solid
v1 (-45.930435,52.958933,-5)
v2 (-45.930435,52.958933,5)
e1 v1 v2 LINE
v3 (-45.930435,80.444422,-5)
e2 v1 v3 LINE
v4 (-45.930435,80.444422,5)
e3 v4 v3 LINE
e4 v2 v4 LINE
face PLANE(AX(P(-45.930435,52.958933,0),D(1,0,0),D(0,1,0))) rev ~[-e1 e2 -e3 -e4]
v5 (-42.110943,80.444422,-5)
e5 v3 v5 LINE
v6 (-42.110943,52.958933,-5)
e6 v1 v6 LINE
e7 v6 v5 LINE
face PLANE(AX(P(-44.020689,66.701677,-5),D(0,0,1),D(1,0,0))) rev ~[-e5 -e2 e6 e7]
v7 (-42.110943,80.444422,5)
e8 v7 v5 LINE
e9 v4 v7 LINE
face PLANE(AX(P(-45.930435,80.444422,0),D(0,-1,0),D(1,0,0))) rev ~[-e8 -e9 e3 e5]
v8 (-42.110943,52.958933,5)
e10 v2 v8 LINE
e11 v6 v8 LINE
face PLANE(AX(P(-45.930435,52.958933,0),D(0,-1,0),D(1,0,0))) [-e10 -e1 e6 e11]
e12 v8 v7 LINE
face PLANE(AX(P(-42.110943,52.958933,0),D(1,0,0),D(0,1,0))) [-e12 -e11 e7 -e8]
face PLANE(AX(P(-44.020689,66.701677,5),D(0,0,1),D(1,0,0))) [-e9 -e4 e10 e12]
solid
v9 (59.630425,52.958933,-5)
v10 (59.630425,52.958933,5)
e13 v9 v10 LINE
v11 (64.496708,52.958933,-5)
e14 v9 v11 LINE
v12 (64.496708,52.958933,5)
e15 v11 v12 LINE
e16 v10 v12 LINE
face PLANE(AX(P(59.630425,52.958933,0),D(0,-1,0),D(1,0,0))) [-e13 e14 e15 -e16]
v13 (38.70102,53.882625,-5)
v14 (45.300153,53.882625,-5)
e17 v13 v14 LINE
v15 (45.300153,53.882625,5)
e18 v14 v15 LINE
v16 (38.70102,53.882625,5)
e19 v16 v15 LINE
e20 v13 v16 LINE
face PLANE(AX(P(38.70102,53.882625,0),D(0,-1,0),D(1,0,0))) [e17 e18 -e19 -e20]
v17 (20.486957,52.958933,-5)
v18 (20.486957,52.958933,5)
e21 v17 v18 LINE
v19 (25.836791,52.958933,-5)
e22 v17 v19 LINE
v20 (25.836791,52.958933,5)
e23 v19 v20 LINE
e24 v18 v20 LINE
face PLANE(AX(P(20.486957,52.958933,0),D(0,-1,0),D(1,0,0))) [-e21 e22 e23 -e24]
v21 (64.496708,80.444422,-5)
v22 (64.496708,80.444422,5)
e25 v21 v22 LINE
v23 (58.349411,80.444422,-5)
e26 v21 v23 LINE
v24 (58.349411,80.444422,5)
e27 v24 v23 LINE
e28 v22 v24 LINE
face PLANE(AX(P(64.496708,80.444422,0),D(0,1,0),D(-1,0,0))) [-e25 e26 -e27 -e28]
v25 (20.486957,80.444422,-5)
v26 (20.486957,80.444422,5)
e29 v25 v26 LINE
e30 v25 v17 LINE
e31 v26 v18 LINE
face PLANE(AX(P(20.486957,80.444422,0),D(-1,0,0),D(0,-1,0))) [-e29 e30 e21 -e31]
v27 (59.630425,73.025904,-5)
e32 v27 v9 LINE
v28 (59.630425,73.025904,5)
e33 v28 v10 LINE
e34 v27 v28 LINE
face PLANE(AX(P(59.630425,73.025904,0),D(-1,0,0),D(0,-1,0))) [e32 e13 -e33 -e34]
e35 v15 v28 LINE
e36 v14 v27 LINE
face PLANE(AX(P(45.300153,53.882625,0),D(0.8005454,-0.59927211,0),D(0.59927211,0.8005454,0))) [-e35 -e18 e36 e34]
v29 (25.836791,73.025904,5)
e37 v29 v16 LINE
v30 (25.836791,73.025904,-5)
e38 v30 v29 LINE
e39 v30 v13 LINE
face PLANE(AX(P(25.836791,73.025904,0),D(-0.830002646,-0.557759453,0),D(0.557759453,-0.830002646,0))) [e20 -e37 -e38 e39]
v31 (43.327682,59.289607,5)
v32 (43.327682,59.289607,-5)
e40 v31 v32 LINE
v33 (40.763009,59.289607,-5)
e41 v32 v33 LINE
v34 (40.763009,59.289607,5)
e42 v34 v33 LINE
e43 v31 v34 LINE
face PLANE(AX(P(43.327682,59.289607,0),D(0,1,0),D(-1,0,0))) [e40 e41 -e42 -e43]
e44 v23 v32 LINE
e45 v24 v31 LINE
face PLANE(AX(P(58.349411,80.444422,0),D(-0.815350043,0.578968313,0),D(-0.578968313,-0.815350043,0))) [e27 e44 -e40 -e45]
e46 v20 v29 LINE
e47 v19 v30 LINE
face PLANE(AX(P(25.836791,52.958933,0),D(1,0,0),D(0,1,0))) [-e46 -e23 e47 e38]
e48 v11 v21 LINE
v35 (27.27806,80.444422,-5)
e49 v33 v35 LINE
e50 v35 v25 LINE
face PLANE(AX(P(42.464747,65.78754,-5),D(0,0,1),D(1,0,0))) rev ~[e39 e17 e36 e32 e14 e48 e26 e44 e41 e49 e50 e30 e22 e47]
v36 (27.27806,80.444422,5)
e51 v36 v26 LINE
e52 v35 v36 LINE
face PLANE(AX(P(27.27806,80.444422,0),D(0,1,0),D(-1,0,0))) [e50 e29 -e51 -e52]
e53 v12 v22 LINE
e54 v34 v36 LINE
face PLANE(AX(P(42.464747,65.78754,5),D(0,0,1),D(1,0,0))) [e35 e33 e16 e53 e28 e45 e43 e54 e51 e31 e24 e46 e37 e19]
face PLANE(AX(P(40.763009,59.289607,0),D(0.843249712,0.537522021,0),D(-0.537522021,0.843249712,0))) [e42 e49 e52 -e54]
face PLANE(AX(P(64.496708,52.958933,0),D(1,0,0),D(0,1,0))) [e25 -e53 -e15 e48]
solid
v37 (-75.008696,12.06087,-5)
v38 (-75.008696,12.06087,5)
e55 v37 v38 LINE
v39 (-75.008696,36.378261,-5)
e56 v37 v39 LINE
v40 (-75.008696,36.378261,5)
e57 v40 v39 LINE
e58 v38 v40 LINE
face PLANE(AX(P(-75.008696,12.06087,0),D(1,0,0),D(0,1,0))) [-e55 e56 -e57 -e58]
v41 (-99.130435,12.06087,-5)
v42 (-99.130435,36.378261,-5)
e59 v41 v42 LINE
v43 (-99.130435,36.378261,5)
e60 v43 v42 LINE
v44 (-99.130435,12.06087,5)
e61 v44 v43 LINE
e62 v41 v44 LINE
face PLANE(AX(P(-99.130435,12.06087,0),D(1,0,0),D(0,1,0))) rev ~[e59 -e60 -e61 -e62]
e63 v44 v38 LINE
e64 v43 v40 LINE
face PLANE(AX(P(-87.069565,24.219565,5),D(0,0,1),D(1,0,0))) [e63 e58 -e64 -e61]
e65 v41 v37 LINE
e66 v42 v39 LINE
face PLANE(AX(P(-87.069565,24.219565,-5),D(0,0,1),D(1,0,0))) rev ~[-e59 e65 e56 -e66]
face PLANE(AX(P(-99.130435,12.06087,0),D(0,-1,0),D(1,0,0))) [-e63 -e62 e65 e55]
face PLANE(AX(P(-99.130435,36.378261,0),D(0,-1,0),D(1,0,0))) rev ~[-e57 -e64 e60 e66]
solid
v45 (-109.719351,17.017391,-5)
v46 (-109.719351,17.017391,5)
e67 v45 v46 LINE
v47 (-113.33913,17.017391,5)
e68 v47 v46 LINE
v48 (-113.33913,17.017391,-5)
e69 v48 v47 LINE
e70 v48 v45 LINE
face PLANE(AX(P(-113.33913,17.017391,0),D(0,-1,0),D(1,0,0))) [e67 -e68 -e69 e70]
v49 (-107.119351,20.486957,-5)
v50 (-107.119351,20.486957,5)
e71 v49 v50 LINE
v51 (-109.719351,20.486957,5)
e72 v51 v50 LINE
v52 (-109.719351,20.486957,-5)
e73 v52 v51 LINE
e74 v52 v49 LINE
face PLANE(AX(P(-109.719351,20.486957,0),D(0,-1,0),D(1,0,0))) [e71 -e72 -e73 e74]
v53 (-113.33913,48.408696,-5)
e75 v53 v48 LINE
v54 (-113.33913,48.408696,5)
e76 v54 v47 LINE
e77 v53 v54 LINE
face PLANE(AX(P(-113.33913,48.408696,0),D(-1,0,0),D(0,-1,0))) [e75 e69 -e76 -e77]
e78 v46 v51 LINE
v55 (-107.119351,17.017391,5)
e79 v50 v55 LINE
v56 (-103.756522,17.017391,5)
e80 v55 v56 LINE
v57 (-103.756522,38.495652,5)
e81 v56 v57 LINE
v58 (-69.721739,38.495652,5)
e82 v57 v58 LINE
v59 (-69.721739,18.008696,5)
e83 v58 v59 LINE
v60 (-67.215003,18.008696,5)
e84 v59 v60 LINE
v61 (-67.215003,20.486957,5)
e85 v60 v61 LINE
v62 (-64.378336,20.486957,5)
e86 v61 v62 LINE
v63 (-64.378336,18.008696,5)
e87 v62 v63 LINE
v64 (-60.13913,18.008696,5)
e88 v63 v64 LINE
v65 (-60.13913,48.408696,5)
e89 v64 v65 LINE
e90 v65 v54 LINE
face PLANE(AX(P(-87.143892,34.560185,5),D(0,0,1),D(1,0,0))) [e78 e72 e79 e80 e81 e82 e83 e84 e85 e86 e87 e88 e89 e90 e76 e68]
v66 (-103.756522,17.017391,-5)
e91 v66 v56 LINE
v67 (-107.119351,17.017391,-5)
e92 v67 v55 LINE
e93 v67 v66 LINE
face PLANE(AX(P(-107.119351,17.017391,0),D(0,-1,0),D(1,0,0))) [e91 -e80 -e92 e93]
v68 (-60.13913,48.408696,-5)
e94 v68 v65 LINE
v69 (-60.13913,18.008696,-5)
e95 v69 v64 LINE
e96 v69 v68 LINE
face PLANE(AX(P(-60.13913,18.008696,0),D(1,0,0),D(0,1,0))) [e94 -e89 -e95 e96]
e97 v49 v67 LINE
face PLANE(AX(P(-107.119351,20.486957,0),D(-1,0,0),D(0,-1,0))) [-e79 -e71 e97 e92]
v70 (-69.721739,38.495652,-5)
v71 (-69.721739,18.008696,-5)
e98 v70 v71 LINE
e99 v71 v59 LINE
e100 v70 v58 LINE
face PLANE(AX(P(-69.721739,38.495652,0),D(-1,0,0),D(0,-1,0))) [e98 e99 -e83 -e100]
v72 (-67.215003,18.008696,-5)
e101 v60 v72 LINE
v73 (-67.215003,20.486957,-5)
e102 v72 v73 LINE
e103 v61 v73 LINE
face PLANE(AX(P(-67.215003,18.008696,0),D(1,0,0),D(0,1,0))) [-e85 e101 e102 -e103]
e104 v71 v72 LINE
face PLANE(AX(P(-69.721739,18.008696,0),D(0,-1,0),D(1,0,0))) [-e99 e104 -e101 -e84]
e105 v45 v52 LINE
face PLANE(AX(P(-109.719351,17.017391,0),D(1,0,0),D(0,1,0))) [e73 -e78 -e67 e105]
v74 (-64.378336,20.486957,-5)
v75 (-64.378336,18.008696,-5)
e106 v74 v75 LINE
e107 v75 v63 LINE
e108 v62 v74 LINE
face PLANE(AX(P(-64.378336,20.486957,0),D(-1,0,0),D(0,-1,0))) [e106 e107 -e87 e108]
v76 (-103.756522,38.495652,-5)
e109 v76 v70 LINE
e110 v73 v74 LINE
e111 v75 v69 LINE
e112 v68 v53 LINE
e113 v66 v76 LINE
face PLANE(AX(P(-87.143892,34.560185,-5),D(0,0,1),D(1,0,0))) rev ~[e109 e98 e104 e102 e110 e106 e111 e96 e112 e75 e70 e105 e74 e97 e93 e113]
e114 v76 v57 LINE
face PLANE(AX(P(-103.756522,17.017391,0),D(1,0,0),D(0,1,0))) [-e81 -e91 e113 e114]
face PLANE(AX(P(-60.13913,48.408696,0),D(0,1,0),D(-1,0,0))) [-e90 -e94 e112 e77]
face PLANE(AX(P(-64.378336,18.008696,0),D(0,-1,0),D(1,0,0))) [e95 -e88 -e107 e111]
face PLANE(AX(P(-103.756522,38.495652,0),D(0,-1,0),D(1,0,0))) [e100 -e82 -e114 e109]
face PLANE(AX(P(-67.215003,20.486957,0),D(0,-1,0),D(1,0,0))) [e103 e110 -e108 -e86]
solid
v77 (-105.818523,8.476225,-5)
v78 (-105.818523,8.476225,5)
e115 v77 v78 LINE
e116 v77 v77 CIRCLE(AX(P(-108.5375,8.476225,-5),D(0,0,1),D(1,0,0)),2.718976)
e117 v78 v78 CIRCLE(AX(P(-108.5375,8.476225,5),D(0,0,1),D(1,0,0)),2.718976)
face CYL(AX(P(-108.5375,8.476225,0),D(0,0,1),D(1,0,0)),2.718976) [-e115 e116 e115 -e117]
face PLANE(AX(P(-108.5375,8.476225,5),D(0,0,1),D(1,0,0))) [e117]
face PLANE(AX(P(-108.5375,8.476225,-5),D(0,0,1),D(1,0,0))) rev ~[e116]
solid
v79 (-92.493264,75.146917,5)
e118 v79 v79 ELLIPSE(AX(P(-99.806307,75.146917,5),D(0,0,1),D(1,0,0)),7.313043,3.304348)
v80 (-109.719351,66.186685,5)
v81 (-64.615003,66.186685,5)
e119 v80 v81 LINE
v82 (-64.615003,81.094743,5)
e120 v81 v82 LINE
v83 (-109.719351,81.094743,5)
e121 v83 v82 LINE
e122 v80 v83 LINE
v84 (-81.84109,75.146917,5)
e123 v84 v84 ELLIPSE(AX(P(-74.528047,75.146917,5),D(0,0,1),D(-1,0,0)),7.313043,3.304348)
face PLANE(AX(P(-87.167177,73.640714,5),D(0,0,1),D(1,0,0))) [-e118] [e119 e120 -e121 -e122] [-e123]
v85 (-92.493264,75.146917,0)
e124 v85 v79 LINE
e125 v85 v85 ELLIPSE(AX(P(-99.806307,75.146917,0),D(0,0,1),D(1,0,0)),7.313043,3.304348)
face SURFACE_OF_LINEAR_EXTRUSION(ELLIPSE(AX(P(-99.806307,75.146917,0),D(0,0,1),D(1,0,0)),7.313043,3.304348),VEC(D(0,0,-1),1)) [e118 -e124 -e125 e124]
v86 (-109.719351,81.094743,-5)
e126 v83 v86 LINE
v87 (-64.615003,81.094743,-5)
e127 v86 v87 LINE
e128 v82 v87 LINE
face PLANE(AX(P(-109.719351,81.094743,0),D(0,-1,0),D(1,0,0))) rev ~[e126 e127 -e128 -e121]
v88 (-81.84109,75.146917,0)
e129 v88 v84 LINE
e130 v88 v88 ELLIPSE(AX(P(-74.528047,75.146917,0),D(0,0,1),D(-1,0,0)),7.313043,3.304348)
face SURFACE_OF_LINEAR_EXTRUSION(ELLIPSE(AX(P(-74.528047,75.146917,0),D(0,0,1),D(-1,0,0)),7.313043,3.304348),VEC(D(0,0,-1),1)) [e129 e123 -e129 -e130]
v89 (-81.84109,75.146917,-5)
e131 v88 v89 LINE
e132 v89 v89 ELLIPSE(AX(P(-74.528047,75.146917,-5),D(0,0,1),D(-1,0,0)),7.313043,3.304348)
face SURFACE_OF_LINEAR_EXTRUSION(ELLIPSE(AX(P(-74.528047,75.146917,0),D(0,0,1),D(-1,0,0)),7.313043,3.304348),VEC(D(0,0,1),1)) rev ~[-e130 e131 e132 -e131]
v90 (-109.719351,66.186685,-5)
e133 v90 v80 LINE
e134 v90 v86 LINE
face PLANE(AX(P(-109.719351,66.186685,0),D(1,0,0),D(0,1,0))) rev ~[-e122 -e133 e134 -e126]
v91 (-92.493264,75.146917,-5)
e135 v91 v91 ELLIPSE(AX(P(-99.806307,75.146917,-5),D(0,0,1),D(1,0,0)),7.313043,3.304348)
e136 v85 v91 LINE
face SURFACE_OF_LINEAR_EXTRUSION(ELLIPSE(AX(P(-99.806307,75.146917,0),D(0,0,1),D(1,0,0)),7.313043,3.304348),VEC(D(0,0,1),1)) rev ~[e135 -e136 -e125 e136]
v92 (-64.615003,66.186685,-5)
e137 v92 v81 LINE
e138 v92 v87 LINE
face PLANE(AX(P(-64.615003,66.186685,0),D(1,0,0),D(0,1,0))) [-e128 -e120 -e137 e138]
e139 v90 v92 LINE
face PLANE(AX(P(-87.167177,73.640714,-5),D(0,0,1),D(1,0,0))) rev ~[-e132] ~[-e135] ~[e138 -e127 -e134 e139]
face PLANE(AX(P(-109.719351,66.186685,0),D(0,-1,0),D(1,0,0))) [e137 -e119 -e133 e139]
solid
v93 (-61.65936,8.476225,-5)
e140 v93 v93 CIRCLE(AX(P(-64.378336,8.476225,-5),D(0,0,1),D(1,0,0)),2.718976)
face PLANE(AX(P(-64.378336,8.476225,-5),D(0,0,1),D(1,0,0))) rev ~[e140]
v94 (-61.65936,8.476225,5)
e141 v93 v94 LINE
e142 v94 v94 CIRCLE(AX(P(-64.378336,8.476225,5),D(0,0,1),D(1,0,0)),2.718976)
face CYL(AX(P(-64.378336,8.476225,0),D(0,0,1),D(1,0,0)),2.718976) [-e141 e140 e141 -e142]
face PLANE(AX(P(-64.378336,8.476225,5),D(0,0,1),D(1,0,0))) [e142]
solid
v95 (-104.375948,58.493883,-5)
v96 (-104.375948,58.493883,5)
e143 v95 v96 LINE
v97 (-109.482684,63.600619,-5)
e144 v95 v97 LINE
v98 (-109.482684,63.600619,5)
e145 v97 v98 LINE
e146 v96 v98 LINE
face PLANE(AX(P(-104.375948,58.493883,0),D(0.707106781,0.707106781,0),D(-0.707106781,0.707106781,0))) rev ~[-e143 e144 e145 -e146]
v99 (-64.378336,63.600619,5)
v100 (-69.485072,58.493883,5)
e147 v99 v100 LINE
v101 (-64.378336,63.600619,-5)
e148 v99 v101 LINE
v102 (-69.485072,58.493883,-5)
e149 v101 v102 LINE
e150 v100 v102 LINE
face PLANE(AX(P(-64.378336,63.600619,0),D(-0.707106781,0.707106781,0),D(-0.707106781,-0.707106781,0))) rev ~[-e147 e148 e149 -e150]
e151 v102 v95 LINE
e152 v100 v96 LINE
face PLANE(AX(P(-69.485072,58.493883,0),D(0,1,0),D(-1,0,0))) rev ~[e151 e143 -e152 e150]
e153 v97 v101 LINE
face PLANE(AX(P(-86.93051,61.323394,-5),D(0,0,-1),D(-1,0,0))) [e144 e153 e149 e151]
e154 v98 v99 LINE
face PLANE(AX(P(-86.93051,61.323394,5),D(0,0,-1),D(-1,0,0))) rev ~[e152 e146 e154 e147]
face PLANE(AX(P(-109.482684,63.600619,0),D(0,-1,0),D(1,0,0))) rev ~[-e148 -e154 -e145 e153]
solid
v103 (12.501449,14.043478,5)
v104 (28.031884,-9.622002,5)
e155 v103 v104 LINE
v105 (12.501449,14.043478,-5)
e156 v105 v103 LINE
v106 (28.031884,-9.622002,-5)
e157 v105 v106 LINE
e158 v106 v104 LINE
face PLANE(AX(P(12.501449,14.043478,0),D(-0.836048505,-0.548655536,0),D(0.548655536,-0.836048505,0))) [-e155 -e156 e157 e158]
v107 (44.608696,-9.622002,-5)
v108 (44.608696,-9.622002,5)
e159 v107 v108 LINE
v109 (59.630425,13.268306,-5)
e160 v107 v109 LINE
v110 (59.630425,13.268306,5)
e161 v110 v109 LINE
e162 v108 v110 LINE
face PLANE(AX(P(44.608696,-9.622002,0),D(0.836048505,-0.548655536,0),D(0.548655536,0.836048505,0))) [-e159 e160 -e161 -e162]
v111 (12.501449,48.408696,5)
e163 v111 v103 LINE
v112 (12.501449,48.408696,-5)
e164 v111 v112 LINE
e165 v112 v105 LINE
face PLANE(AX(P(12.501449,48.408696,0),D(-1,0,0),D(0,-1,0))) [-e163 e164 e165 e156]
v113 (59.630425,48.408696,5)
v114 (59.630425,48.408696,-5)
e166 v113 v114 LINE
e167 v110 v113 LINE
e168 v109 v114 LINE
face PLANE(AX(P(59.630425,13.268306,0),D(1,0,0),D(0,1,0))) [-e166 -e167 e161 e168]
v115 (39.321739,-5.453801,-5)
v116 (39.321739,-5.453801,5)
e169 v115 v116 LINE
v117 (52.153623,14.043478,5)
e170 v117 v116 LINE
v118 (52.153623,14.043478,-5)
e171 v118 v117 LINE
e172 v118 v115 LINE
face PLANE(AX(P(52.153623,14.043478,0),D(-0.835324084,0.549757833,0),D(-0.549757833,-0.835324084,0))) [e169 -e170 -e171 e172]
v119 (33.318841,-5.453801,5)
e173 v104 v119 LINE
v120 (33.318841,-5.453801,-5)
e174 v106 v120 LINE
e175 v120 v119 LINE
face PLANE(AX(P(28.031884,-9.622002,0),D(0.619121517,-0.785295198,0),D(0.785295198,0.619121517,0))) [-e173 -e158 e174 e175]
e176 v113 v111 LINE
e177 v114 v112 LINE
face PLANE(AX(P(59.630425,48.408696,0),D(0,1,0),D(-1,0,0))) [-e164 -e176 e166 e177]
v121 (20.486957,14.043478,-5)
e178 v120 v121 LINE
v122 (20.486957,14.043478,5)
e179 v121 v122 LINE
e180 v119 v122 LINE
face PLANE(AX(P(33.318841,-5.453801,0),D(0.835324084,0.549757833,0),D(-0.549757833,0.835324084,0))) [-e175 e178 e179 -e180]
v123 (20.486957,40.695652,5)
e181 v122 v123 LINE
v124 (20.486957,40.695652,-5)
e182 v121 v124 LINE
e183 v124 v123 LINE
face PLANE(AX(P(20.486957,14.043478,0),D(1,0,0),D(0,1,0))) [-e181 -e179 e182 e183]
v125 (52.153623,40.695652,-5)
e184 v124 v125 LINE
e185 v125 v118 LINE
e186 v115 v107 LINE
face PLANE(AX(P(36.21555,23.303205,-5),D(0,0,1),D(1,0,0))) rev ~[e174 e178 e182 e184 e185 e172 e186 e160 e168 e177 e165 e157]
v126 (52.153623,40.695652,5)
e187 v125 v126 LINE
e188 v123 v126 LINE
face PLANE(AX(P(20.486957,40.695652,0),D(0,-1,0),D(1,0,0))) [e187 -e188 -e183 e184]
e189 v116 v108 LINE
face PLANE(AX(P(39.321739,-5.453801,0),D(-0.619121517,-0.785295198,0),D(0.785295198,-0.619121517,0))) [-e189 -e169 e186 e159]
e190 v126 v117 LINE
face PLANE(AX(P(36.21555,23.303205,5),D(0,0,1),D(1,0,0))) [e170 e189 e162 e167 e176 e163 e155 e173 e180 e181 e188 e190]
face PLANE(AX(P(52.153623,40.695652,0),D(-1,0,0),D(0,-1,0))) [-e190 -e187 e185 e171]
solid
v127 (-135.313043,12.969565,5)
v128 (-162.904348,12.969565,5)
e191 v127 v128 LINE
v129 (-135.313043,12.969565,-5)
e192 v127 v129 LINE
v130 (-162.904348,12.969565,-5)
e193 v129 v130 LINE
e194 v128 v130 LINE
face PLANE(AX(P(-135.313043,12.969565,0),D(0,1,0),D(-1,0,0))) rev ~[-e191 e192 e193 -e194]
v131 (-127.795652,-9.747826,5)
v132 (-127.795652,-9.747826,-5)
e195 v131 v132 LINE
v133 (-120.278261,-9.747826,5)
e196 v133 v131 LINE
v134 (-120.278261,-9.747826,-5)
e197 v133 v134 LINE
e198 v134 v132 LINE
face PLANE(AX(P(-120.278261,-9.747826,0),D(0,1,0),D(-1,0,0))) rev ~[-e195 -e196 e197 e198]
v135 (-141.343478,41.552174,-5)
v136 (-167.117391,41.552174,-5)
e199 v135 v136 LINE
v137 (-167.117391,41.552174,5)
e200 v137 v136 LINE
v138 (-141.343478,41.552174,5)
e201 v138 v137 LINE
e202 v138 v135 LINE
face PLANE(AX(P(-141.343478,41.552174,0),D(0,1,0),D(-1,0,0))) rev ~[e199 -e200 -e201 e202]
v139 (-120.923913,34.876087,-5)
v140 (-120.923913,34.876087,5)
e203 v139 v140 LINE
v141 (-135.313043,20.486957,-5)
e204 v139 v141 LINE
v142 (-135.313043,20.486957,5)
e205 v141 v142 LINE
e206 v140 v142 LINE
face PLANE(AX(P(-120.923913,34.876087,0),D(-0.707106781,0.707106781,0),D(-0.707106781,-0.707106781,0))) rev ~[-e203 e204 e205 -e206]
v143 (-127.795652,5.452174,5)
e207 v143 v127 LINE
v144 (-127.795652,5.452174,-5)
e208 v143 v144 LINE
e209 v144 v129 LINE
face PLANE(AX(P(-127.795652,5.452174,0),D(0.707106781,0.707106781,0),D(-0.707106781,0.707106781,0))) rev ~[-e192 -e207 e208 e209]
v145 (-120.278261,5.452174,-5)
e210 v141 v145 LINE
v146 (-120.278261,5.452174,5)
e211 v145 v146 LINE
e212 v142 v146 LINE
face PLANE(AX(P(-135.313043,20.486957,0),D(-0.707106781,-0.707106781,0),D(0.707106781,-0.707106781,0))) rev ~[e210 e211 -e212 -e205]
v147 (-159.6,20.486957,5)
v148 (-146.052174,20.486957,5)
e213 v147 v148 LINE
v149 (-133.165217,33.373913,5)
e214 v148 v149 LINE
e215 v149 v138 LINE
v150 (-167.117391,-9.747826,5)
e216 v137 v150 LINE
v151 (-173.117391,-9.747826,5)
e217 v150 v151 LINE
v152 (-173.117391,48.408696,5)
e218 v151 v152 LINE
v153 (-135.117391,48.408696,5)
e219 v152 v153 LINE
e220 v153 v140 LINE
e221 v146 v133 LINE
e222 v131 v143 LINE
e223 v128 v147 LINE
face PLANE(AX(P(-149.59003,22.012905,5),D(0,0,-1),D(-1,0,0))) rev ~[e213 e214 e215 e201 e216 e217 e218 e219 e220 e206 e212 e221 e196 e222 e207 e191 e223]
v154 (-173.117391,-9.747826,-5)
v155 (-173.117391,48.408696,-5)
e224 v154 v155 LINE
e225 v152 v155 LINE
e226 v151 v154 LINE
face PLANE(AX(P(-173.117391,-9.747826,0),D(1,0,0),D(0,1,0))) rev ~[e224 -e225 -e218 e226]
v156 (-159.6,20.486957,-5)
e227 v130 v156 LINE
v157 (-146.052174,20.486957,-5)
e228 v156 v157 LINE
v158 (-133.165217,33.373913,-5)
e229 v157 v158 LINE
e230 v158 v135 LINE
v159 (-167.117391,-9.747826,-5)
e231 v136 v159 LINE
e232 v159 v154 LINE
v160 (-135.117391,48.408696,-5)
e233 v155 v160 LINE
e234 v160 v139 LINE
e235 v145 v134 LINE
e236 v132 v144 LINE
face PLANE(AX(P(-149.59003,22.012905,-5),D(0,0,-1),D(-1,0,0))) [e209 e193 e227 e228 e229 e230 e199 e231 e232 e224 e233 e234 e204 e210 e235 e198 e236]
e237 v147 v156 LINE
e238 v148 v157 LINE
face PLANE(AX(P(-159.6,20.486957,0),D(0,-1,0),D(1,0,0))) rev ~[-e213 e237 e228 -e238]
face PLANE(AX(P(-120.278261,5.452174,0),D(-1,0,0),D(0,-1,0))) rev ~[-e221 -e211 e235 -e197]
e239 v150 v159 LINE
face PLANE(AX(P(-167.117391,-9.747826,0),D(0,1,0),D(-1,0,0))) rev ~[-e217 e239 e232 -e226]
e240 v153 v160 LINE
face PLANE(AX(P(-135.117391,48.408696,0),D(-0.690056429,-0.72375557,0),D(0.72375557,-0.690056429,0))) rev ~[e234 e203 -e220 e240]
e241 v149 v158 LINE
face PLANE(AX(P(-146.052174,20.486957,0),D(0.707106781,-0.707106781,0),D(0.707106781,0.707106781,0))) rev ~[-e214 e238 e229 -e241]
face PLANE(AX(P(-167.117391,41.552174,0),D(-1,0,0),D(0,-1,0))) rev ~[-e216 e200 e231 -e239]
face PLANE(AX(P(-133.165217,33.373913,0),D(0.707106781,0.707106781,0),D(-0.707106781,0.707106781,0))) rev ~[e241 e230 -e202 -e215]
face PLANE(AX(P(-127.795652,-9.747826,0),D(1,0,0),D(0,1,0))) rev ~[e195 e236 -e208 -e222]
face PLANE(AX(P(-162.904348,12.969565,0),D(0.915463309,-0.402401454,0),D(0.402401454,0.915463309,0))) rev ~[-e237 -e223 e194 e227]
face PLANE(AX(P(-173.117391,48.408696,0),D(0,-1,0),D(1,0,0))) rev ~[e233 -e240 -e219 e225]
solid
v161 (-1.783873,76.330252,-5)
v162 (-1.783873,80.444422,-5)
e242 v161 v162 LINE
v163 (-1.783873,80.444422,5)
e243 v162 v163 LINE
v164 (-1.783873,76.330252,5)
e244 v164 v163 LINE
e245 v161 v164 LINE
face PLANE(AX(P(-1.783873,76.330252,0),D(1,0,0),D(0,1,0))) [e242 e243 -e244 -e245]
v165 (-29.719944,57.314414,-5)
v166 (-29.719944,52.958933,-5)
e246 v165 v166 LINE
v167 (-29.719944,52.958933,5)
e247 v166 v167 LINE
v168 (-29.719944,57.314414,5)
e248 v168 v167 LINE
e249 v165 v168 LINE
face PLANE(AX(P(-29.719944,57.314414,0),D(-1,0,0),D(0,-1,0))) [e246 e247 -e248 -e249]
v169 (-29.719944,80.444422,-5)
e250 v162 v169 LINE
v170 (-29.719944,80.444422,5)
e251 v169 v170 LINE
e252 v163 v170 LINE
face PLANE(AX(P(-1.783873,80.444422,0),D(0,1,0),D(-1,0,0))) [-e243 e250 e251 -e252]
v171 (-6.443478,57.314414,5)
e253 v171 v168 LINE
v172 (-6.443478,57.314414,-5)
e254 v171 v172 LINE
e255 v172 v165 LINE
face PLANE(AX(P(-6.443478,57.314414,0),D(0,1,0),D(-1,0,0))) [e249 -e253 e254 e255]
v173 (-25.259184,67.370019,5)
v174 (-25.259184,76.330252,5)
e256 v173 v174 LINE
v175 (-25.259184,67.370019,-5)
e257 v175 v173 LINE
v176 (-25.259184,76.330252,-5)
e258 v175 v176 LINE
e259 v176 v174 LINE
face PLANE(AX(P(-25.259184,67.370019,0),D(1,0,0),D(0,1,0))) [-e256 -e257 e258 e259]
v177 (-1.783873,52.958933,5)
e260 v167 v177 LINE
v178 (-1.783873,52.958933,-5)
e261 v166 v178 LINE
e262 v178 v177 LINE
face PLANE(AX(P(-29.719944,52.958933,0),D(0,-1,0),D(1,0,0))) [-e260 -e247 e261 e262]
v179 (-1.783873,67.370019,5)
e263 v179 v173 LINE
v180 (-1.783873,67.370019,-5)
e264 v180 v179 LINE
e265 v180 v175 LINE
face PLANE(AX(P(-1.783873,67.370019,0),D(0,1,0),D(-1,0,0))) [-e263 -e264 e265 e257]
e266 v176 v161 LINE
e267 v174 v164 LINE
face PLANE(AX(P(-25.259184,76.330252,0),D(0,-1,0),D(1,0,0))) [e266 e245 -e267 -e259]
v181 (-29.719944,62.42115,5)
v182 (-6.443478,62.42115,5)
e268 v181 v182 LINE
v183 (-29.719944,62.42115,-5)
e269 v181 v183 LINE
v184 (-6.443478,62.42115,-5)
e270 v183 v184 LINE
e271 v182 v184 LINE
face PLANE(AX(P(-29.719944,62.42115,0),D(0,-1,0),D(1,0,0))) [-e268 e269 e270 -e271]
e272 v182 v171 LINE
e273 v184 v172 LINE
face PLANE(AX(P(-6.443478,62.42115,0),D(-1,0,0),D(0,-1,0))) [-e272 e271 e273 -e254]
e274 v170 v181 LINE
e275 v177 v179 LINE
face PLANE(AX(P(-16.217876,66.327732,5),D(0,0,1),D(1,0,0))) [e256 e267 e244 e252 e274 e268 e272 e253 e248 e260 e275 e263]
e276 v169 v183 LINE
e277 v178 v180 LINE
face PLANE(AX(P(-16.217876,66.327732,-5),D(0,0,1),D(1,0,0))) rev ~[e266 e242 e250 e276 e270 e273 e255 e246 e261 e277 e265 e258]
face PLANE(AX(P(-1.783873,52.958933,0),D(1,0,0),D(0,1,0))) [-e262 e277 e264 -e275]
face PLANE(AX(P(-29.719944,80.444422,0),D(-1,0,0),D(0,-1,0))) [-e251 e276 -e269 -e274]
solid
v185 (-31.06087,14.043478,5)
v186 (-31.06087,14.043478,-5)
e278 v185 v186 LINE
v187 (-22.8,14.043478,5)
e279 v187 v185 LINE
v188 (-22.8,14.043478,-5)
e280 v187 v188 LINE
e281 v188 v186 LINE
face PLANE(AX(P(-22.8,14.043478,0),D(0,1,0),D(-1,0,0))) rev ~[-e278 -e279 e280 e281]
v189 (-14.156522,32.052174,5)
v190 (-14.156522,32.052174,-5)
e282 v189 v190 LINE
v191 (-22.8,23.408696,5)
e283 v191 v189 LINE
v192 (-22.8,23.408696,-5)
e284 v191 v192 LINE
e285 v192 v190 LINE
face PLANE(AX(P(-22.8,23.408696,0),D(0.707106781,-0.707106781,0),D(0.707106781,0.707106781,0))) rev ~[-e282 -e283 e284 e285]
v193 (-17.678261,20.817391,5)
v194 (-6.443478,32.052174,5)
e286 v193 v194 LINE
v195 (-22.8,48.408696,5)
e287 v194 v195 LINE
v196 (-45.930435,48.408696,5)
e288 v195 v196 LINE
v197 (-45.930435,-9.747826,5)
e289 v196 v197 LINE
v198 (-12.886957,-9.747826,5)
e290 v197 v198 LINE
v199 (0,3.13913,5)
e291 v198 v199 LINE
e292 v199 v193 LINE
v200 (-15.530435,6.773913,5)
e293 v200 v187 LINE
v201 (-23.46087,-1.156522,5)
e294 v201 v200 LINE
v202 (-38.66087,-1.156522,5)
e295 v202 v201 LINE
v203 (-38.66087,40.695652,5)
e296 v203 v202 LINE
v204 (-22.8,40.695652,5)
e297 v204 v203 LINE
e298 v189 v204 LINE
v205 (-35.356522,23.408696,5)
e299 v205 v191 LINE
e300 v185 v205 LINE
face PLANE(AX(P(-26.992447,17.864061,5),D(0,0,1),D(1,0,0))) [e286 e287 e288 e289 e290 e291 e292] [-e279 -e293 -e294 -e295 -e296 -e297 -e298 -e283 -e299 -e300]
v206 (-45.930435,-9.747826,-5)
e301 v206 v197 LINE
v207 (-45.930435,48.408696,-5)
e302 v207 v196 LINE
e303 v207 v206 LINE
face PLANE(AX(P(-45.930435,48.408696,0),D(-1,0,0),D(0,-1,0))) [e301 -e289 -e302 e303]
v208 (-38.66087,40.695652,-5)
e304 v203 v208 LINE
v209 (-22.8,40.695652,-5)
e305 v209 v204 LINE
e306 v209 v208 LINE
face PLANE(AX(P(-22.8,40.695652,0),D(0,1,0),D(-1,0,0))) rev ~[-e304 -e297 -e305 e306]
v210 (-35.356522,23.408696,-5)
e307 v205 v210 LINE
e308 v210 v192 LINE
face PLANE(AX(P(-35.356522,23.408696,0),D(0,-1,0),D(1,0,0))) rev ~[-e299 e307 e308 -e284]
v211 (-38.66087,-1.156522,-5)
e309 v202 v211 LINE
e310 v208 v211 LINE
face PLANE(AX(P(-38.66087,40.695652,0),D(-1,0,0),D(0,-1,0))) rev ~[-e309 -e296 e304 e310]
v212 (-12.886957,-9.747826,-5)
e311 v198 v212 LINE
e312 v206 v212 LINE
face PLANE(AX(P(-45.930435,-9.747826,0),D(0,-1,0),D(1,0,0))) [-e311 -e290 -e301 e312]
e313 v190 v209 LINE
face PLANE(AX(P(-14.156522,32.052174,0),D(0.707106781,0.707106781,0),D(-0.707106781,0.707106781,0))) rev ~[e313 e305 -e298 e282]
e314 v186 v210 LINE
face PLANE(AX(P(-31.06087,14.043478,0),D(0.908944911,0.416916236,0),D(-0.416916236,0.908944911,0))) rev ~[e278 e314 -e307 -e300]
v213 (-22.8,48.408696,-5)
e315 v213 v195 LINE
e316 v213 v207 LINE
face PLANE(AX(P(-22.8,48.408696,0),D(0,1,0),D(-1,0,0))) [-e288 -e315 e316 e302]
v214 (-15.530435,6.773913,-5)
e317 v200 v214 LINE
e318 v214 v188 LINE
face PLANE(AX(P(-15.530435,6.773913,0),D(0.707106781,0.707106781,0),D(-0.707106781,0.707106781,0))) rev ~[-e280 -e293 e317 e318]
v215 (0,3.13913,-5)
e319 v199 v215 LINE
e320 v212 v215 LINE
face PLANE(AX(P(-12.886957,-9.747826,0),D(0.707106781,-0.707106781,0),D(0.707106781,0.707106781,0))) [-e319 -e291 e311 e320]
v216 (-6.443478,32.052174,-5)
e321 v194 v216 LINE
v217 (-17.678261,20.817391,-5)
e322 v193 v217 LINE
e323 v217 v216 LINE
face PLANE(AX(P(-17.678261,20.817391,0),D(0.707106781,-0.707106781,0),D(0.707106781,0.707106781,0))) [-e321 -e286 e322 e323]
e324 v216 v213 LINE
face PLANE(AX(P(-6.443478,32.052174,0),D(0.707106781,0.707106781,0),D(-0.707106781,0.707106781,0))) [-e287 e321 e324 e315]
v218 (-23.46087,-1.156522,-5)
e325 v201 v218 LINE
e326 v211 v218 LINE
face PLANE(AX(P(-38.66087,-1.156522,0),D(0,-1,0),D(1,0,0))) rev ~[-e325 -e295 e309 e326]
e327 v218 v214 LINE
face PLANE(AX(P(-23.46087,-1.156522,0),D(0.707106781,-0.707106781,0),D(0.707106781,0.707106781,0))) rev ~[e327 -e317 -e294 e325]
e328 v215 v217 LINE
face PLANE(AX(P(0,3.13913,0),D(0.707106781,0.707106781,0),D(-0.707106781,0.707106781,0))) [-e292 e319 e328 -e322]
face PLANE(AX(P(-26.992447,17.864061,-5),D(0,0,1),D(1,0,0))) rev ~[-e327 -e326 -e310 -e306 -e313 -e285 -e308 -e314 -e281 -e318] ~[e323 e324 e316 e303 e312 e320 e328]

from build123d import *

# Parameters (mm, degrees)
BOSS_EXTRUDE3_DEPTH    = 5
BOSS_EXTRUDE3_2_DEPTH  = 5
SKETCH1_W              = 24.121739131
SKETCH1_H              = 24.317391305
BOSS_EXTRUDE3_3_DEPTH  = 5
BOSS_EXTRUDE3_4_DEPTH  = 5
BOSS_EXTRUDE3_5_DEPTH  = 5
BOSS_EXTRUDE3_6_DEPTH  = 5
BOSS_EXTRUDE3_7_DEPTH  = 5
SKETCH1_W_2            = 3.819491882
SKETCH1_H_2            = 27.485489058
BOSS_EXTRUDE3_8_DEPTH  = 5
SKETCH1_W_3            = 45.104347826
SKETCH1_H_3            = 14.908058774
SKETCH1_RX             = 7.313043478
SKETCH1_RY             = 3.304347826
BOSS_EXTRUDE3_9_DEPTH  = 5
SKETCH1_R              = 2.718976156
BOSS_EXTRUDE3_10_DEPTH = 5
BOSS_EXTRUDE3_11_DEPTH = 5
BOSS_EXTRUDE3_12_DEPTH = 5


with BuildPart() as part:
    # Sketch1 → Boss-Extrude3 (new body, symmetric)
    with BuildSketch(Plane.XY):
        Polygon((-120.27826087, 5.452173913), (-120.27826087, -9.747826087), (-127.795652174, -9.747826087), (-127.795652174, 5.452173913), (-135.313043478, 12.969565217), (-162.904347826, 12.969565217), (-159.6, 20.486956522), (-146.052173913, 20.486956522), (-133.165217391, 33.373913043), (-141.343478261, 41.552173913), (-167.117391304, 41.552173913), (-167.117391304, -9.747826087), (-173.117391304, -9.747826087), (-173.117391304, 48.408695652), (-135.117391304, 48.408695652), (-120.923913043, 34.876086957), (-135.313043478, 20.486956522), align=None)
    extrude(amount=BOSS_EXTRUDE3_DEPTH, both=True)


with BuildPart() as body_2:
    # Sketch1 → Boss-Extrude3 2 (new body, symmetric)
    with BuildSketch(Plane.XY):
        Polygon((-64.378336245, 20.486956522), (-64.378336245, 18.008695652), (-60.139130435, 18.008695652), (-60.139130435, 48.408695652), (-113.339130435, 48.408695652), (-113.339130435, 17.017391304), (-109.719350943, 17.017391304), (-109.719350943, 20.486956522), (-107.119350943, 20.486956522), (-107.119350943, 17.017391304), (-103.756521739, 17.017391304), (-103.756521739, 38.495652174), (-69.72173913, 38.495652174), (-69.72173913, 18.008695652), (-67.215003117, 18.008695652), (-67.215003117, 20.486956522), align=None)
    extrude(amount=BOSS_EXTRUDE3_2_DEPTH, both=True)


with BuildPart() as body_3:
    # Sketch1 → Boss-Extrude3 3 (new body, symmetric)
    with BuildSketch(Plane.XY):
        with Locations((-87.069565218, 24.219565218)):
            Rectangle(SKETCH1_W, SKETCH1_H)
    extrude(amount=BOSS_EXTRUDE3_3_DEPTH, both=True)


with BuildPart() as body_4:
    # Sketch1 → Boss-Extrude3 4 (new body, symmetric)
    with BuildSketch(Plane.XY):
        Polygon((-6.443478261, 32.052173913), (-22.8, 48.408695652), (-45.930434783, 48.408695652), (-45.930434783, -9.747826087), (-12.886956522, -9.747826087), (0, 3.139130435), (-17.67826087, 20.817391304), align=None)
        Polygon((-22.8, 40.695652174), (-38.660869565, 40.695652174), (-38.660869565, -1.156521739), (-23.460869565, -1.156521739), (-15.530434783, 6.773913043), (-22.8, 14.043478261), (-31.060869565, 14.043478261), (-35.356521739, 23.408695652), (-22.8, 23.408695652), (-14.156521739, 32.052173913), align=None, mode=Mode.SUBTRACT)
    extrude(amount=BOSS_EXTRUDE3_4_DEPTH, both=True)


with BuildPart() as body_5:
    # Sketch1 → Boss-Extrude3 5 (new body, symmetric)
    with BuildSketch(Plane.XY):
        Polygon((22.469565217, 48.408695652), (20.486956522, 48.408695652), (12.501449275, 48.408695652), (12.501449275, 14.043478261), (28.031884058, -9.622002049), (33.31884058, -5.453800649), (20.486956522, 14.043478261), (20.486956522, 40.695652174), (52.153623188, 40.695652174), (52.153623188, 14.043478261), (39.32173913, -5.453800649), (44.608695652, -9.622002049), (59.630424795, 13.268305931), (59.630424795, 48.408695652), align=None)
    extrude(amount=BOSS_EXTRUDE3_5_DEPTH, both=True)


with BuildPart() as body_6:
    # Sketch1 → Boss-Extrude3 6 (new body, symmetric)
    with BuildSketch(Plane.XY):
        Polygon((40.763008919, 59.289606781), (27.278060495, 80.44442172), (20.486956522, 80.44442172), (20.486956522, 52.958932662), (25.836790706, 52.958932662), (25.836790706, 73.025903847), (38.701020247, 53.882625327), (45.300153316, 53.882625327), (59.630424795, 73.025903847), (59.630424795, 52.958932662), (64.496708103, 52.958932662), (64.496708103, 80.44442172), (58.349410718, 80.44442172), (43.327681575, 59.289606781), align=None)
    extrude(amount=BOSS_EXTRUDE3_6_DEPTH, both=True)


with BuildPart() as body_7:
    # Sketch1 → Boss-Extrude3 7 (new body, symmetric)
    with BuildSketch(Plane.XY):
        Polygon((-6.443478261, 57.314414193), (-29.719943735, 57.314414193), (-29.719943735, 52.958932662), (-1.783872889, 52.958932662), (-1.783872889, 67.370018987), (-25.259184035, 67.370018987), (-25.259184035, 76.330251673), (-1.783872889, 76.330251673), (-1.783872889, 80.44442172), (-29.719943735, 80.44442172), (-29.719943735, 62.421150206), (-6.443478261, 62.421150206), align=None)
    extrude(amount=BOSS_EXTRUDE3_7_DEPTH, both=True)


with BuildPart() as body_8:
    # Sketch1 → Boss-Extrude3 8 (new body, symmetric)
    with BuildSketch(Plane.XY):
        with Locations((-44.020688842, 66.701677191)):
            Rectangle(SKETCH1_W_2, SKETCH1_H_2)
    extrude(amount=BOSS_EXTRUDE3_8_DEPTH, both=True)


with BuildPart() as body_9:
    # Sketch1 → Boss-Extrude3 9 (new body, symmetric)
    with BuildSketch(Plane.XY):
        with Locations((-87.16717703, 73.640714016)):
            Rectangle(SKETCH1_W_3, SKETCH1_H_3)
        with Locations((-99.806307464, 75.146917316)):
            Ellipse(SKETCH1_RX, SKETCH1_RY, mode=Mode.SUBTRACT)
        with Locations(Location((-74.528046595, 75.146917316), (0, 0, 180))):
            Ellipse(SKETCH1_RX, SKETCH1_RY, mode=Mode.SUBTRACT)
    extrude(amount=BOSS_EXTRUDE3_9_DEPTH, both=True)


with BuildPart() as body_10:
    # Sketch1 → Boss-Extrude3 10 (new body, symmetric)
    with BuildSketch(Plane.XY):
        with Locations((-108.537499539, 8.476225085)):
            Circle(SKETCH1_R)
    extrude(amount=BOSS_EXTRUDE3_10_DEPTH, both=True)


with BuildPart() as body_11:
    # Sketch1 → Boss-Extrude3 11 (new body, symmetric)
    with BuildSketch(Plane.XY):
        with Locations((-64.378336245, 8.476225085)):
            Circle(SKETCH1_R)
    extrude(amount=BOSS_EXTRUDE3_11_DEPTH, both=True)


with BuildPart() as body_12:
    # Sketch1 → Boss-Extrude3 12 (new body, symmetric)
    with BuildSketch(Plane.XY):
        Polygon((-109.482684071, 63.600618954), (-64.378336245, 63.600618954), (-69.485072259, 58.493882941), (-104.375948057, 58.493882941), align=None)
    extrude(amount=BOSS_EXTRUDE3_12_DEPTH, both=True)


solid = Compound([part.part, body_2.part, body_3.part, body_4.part, body_5.part, body_6.part, body_7.part, body_8.part, body_9.part, body_10.part, body_11.part, body_12.part])
